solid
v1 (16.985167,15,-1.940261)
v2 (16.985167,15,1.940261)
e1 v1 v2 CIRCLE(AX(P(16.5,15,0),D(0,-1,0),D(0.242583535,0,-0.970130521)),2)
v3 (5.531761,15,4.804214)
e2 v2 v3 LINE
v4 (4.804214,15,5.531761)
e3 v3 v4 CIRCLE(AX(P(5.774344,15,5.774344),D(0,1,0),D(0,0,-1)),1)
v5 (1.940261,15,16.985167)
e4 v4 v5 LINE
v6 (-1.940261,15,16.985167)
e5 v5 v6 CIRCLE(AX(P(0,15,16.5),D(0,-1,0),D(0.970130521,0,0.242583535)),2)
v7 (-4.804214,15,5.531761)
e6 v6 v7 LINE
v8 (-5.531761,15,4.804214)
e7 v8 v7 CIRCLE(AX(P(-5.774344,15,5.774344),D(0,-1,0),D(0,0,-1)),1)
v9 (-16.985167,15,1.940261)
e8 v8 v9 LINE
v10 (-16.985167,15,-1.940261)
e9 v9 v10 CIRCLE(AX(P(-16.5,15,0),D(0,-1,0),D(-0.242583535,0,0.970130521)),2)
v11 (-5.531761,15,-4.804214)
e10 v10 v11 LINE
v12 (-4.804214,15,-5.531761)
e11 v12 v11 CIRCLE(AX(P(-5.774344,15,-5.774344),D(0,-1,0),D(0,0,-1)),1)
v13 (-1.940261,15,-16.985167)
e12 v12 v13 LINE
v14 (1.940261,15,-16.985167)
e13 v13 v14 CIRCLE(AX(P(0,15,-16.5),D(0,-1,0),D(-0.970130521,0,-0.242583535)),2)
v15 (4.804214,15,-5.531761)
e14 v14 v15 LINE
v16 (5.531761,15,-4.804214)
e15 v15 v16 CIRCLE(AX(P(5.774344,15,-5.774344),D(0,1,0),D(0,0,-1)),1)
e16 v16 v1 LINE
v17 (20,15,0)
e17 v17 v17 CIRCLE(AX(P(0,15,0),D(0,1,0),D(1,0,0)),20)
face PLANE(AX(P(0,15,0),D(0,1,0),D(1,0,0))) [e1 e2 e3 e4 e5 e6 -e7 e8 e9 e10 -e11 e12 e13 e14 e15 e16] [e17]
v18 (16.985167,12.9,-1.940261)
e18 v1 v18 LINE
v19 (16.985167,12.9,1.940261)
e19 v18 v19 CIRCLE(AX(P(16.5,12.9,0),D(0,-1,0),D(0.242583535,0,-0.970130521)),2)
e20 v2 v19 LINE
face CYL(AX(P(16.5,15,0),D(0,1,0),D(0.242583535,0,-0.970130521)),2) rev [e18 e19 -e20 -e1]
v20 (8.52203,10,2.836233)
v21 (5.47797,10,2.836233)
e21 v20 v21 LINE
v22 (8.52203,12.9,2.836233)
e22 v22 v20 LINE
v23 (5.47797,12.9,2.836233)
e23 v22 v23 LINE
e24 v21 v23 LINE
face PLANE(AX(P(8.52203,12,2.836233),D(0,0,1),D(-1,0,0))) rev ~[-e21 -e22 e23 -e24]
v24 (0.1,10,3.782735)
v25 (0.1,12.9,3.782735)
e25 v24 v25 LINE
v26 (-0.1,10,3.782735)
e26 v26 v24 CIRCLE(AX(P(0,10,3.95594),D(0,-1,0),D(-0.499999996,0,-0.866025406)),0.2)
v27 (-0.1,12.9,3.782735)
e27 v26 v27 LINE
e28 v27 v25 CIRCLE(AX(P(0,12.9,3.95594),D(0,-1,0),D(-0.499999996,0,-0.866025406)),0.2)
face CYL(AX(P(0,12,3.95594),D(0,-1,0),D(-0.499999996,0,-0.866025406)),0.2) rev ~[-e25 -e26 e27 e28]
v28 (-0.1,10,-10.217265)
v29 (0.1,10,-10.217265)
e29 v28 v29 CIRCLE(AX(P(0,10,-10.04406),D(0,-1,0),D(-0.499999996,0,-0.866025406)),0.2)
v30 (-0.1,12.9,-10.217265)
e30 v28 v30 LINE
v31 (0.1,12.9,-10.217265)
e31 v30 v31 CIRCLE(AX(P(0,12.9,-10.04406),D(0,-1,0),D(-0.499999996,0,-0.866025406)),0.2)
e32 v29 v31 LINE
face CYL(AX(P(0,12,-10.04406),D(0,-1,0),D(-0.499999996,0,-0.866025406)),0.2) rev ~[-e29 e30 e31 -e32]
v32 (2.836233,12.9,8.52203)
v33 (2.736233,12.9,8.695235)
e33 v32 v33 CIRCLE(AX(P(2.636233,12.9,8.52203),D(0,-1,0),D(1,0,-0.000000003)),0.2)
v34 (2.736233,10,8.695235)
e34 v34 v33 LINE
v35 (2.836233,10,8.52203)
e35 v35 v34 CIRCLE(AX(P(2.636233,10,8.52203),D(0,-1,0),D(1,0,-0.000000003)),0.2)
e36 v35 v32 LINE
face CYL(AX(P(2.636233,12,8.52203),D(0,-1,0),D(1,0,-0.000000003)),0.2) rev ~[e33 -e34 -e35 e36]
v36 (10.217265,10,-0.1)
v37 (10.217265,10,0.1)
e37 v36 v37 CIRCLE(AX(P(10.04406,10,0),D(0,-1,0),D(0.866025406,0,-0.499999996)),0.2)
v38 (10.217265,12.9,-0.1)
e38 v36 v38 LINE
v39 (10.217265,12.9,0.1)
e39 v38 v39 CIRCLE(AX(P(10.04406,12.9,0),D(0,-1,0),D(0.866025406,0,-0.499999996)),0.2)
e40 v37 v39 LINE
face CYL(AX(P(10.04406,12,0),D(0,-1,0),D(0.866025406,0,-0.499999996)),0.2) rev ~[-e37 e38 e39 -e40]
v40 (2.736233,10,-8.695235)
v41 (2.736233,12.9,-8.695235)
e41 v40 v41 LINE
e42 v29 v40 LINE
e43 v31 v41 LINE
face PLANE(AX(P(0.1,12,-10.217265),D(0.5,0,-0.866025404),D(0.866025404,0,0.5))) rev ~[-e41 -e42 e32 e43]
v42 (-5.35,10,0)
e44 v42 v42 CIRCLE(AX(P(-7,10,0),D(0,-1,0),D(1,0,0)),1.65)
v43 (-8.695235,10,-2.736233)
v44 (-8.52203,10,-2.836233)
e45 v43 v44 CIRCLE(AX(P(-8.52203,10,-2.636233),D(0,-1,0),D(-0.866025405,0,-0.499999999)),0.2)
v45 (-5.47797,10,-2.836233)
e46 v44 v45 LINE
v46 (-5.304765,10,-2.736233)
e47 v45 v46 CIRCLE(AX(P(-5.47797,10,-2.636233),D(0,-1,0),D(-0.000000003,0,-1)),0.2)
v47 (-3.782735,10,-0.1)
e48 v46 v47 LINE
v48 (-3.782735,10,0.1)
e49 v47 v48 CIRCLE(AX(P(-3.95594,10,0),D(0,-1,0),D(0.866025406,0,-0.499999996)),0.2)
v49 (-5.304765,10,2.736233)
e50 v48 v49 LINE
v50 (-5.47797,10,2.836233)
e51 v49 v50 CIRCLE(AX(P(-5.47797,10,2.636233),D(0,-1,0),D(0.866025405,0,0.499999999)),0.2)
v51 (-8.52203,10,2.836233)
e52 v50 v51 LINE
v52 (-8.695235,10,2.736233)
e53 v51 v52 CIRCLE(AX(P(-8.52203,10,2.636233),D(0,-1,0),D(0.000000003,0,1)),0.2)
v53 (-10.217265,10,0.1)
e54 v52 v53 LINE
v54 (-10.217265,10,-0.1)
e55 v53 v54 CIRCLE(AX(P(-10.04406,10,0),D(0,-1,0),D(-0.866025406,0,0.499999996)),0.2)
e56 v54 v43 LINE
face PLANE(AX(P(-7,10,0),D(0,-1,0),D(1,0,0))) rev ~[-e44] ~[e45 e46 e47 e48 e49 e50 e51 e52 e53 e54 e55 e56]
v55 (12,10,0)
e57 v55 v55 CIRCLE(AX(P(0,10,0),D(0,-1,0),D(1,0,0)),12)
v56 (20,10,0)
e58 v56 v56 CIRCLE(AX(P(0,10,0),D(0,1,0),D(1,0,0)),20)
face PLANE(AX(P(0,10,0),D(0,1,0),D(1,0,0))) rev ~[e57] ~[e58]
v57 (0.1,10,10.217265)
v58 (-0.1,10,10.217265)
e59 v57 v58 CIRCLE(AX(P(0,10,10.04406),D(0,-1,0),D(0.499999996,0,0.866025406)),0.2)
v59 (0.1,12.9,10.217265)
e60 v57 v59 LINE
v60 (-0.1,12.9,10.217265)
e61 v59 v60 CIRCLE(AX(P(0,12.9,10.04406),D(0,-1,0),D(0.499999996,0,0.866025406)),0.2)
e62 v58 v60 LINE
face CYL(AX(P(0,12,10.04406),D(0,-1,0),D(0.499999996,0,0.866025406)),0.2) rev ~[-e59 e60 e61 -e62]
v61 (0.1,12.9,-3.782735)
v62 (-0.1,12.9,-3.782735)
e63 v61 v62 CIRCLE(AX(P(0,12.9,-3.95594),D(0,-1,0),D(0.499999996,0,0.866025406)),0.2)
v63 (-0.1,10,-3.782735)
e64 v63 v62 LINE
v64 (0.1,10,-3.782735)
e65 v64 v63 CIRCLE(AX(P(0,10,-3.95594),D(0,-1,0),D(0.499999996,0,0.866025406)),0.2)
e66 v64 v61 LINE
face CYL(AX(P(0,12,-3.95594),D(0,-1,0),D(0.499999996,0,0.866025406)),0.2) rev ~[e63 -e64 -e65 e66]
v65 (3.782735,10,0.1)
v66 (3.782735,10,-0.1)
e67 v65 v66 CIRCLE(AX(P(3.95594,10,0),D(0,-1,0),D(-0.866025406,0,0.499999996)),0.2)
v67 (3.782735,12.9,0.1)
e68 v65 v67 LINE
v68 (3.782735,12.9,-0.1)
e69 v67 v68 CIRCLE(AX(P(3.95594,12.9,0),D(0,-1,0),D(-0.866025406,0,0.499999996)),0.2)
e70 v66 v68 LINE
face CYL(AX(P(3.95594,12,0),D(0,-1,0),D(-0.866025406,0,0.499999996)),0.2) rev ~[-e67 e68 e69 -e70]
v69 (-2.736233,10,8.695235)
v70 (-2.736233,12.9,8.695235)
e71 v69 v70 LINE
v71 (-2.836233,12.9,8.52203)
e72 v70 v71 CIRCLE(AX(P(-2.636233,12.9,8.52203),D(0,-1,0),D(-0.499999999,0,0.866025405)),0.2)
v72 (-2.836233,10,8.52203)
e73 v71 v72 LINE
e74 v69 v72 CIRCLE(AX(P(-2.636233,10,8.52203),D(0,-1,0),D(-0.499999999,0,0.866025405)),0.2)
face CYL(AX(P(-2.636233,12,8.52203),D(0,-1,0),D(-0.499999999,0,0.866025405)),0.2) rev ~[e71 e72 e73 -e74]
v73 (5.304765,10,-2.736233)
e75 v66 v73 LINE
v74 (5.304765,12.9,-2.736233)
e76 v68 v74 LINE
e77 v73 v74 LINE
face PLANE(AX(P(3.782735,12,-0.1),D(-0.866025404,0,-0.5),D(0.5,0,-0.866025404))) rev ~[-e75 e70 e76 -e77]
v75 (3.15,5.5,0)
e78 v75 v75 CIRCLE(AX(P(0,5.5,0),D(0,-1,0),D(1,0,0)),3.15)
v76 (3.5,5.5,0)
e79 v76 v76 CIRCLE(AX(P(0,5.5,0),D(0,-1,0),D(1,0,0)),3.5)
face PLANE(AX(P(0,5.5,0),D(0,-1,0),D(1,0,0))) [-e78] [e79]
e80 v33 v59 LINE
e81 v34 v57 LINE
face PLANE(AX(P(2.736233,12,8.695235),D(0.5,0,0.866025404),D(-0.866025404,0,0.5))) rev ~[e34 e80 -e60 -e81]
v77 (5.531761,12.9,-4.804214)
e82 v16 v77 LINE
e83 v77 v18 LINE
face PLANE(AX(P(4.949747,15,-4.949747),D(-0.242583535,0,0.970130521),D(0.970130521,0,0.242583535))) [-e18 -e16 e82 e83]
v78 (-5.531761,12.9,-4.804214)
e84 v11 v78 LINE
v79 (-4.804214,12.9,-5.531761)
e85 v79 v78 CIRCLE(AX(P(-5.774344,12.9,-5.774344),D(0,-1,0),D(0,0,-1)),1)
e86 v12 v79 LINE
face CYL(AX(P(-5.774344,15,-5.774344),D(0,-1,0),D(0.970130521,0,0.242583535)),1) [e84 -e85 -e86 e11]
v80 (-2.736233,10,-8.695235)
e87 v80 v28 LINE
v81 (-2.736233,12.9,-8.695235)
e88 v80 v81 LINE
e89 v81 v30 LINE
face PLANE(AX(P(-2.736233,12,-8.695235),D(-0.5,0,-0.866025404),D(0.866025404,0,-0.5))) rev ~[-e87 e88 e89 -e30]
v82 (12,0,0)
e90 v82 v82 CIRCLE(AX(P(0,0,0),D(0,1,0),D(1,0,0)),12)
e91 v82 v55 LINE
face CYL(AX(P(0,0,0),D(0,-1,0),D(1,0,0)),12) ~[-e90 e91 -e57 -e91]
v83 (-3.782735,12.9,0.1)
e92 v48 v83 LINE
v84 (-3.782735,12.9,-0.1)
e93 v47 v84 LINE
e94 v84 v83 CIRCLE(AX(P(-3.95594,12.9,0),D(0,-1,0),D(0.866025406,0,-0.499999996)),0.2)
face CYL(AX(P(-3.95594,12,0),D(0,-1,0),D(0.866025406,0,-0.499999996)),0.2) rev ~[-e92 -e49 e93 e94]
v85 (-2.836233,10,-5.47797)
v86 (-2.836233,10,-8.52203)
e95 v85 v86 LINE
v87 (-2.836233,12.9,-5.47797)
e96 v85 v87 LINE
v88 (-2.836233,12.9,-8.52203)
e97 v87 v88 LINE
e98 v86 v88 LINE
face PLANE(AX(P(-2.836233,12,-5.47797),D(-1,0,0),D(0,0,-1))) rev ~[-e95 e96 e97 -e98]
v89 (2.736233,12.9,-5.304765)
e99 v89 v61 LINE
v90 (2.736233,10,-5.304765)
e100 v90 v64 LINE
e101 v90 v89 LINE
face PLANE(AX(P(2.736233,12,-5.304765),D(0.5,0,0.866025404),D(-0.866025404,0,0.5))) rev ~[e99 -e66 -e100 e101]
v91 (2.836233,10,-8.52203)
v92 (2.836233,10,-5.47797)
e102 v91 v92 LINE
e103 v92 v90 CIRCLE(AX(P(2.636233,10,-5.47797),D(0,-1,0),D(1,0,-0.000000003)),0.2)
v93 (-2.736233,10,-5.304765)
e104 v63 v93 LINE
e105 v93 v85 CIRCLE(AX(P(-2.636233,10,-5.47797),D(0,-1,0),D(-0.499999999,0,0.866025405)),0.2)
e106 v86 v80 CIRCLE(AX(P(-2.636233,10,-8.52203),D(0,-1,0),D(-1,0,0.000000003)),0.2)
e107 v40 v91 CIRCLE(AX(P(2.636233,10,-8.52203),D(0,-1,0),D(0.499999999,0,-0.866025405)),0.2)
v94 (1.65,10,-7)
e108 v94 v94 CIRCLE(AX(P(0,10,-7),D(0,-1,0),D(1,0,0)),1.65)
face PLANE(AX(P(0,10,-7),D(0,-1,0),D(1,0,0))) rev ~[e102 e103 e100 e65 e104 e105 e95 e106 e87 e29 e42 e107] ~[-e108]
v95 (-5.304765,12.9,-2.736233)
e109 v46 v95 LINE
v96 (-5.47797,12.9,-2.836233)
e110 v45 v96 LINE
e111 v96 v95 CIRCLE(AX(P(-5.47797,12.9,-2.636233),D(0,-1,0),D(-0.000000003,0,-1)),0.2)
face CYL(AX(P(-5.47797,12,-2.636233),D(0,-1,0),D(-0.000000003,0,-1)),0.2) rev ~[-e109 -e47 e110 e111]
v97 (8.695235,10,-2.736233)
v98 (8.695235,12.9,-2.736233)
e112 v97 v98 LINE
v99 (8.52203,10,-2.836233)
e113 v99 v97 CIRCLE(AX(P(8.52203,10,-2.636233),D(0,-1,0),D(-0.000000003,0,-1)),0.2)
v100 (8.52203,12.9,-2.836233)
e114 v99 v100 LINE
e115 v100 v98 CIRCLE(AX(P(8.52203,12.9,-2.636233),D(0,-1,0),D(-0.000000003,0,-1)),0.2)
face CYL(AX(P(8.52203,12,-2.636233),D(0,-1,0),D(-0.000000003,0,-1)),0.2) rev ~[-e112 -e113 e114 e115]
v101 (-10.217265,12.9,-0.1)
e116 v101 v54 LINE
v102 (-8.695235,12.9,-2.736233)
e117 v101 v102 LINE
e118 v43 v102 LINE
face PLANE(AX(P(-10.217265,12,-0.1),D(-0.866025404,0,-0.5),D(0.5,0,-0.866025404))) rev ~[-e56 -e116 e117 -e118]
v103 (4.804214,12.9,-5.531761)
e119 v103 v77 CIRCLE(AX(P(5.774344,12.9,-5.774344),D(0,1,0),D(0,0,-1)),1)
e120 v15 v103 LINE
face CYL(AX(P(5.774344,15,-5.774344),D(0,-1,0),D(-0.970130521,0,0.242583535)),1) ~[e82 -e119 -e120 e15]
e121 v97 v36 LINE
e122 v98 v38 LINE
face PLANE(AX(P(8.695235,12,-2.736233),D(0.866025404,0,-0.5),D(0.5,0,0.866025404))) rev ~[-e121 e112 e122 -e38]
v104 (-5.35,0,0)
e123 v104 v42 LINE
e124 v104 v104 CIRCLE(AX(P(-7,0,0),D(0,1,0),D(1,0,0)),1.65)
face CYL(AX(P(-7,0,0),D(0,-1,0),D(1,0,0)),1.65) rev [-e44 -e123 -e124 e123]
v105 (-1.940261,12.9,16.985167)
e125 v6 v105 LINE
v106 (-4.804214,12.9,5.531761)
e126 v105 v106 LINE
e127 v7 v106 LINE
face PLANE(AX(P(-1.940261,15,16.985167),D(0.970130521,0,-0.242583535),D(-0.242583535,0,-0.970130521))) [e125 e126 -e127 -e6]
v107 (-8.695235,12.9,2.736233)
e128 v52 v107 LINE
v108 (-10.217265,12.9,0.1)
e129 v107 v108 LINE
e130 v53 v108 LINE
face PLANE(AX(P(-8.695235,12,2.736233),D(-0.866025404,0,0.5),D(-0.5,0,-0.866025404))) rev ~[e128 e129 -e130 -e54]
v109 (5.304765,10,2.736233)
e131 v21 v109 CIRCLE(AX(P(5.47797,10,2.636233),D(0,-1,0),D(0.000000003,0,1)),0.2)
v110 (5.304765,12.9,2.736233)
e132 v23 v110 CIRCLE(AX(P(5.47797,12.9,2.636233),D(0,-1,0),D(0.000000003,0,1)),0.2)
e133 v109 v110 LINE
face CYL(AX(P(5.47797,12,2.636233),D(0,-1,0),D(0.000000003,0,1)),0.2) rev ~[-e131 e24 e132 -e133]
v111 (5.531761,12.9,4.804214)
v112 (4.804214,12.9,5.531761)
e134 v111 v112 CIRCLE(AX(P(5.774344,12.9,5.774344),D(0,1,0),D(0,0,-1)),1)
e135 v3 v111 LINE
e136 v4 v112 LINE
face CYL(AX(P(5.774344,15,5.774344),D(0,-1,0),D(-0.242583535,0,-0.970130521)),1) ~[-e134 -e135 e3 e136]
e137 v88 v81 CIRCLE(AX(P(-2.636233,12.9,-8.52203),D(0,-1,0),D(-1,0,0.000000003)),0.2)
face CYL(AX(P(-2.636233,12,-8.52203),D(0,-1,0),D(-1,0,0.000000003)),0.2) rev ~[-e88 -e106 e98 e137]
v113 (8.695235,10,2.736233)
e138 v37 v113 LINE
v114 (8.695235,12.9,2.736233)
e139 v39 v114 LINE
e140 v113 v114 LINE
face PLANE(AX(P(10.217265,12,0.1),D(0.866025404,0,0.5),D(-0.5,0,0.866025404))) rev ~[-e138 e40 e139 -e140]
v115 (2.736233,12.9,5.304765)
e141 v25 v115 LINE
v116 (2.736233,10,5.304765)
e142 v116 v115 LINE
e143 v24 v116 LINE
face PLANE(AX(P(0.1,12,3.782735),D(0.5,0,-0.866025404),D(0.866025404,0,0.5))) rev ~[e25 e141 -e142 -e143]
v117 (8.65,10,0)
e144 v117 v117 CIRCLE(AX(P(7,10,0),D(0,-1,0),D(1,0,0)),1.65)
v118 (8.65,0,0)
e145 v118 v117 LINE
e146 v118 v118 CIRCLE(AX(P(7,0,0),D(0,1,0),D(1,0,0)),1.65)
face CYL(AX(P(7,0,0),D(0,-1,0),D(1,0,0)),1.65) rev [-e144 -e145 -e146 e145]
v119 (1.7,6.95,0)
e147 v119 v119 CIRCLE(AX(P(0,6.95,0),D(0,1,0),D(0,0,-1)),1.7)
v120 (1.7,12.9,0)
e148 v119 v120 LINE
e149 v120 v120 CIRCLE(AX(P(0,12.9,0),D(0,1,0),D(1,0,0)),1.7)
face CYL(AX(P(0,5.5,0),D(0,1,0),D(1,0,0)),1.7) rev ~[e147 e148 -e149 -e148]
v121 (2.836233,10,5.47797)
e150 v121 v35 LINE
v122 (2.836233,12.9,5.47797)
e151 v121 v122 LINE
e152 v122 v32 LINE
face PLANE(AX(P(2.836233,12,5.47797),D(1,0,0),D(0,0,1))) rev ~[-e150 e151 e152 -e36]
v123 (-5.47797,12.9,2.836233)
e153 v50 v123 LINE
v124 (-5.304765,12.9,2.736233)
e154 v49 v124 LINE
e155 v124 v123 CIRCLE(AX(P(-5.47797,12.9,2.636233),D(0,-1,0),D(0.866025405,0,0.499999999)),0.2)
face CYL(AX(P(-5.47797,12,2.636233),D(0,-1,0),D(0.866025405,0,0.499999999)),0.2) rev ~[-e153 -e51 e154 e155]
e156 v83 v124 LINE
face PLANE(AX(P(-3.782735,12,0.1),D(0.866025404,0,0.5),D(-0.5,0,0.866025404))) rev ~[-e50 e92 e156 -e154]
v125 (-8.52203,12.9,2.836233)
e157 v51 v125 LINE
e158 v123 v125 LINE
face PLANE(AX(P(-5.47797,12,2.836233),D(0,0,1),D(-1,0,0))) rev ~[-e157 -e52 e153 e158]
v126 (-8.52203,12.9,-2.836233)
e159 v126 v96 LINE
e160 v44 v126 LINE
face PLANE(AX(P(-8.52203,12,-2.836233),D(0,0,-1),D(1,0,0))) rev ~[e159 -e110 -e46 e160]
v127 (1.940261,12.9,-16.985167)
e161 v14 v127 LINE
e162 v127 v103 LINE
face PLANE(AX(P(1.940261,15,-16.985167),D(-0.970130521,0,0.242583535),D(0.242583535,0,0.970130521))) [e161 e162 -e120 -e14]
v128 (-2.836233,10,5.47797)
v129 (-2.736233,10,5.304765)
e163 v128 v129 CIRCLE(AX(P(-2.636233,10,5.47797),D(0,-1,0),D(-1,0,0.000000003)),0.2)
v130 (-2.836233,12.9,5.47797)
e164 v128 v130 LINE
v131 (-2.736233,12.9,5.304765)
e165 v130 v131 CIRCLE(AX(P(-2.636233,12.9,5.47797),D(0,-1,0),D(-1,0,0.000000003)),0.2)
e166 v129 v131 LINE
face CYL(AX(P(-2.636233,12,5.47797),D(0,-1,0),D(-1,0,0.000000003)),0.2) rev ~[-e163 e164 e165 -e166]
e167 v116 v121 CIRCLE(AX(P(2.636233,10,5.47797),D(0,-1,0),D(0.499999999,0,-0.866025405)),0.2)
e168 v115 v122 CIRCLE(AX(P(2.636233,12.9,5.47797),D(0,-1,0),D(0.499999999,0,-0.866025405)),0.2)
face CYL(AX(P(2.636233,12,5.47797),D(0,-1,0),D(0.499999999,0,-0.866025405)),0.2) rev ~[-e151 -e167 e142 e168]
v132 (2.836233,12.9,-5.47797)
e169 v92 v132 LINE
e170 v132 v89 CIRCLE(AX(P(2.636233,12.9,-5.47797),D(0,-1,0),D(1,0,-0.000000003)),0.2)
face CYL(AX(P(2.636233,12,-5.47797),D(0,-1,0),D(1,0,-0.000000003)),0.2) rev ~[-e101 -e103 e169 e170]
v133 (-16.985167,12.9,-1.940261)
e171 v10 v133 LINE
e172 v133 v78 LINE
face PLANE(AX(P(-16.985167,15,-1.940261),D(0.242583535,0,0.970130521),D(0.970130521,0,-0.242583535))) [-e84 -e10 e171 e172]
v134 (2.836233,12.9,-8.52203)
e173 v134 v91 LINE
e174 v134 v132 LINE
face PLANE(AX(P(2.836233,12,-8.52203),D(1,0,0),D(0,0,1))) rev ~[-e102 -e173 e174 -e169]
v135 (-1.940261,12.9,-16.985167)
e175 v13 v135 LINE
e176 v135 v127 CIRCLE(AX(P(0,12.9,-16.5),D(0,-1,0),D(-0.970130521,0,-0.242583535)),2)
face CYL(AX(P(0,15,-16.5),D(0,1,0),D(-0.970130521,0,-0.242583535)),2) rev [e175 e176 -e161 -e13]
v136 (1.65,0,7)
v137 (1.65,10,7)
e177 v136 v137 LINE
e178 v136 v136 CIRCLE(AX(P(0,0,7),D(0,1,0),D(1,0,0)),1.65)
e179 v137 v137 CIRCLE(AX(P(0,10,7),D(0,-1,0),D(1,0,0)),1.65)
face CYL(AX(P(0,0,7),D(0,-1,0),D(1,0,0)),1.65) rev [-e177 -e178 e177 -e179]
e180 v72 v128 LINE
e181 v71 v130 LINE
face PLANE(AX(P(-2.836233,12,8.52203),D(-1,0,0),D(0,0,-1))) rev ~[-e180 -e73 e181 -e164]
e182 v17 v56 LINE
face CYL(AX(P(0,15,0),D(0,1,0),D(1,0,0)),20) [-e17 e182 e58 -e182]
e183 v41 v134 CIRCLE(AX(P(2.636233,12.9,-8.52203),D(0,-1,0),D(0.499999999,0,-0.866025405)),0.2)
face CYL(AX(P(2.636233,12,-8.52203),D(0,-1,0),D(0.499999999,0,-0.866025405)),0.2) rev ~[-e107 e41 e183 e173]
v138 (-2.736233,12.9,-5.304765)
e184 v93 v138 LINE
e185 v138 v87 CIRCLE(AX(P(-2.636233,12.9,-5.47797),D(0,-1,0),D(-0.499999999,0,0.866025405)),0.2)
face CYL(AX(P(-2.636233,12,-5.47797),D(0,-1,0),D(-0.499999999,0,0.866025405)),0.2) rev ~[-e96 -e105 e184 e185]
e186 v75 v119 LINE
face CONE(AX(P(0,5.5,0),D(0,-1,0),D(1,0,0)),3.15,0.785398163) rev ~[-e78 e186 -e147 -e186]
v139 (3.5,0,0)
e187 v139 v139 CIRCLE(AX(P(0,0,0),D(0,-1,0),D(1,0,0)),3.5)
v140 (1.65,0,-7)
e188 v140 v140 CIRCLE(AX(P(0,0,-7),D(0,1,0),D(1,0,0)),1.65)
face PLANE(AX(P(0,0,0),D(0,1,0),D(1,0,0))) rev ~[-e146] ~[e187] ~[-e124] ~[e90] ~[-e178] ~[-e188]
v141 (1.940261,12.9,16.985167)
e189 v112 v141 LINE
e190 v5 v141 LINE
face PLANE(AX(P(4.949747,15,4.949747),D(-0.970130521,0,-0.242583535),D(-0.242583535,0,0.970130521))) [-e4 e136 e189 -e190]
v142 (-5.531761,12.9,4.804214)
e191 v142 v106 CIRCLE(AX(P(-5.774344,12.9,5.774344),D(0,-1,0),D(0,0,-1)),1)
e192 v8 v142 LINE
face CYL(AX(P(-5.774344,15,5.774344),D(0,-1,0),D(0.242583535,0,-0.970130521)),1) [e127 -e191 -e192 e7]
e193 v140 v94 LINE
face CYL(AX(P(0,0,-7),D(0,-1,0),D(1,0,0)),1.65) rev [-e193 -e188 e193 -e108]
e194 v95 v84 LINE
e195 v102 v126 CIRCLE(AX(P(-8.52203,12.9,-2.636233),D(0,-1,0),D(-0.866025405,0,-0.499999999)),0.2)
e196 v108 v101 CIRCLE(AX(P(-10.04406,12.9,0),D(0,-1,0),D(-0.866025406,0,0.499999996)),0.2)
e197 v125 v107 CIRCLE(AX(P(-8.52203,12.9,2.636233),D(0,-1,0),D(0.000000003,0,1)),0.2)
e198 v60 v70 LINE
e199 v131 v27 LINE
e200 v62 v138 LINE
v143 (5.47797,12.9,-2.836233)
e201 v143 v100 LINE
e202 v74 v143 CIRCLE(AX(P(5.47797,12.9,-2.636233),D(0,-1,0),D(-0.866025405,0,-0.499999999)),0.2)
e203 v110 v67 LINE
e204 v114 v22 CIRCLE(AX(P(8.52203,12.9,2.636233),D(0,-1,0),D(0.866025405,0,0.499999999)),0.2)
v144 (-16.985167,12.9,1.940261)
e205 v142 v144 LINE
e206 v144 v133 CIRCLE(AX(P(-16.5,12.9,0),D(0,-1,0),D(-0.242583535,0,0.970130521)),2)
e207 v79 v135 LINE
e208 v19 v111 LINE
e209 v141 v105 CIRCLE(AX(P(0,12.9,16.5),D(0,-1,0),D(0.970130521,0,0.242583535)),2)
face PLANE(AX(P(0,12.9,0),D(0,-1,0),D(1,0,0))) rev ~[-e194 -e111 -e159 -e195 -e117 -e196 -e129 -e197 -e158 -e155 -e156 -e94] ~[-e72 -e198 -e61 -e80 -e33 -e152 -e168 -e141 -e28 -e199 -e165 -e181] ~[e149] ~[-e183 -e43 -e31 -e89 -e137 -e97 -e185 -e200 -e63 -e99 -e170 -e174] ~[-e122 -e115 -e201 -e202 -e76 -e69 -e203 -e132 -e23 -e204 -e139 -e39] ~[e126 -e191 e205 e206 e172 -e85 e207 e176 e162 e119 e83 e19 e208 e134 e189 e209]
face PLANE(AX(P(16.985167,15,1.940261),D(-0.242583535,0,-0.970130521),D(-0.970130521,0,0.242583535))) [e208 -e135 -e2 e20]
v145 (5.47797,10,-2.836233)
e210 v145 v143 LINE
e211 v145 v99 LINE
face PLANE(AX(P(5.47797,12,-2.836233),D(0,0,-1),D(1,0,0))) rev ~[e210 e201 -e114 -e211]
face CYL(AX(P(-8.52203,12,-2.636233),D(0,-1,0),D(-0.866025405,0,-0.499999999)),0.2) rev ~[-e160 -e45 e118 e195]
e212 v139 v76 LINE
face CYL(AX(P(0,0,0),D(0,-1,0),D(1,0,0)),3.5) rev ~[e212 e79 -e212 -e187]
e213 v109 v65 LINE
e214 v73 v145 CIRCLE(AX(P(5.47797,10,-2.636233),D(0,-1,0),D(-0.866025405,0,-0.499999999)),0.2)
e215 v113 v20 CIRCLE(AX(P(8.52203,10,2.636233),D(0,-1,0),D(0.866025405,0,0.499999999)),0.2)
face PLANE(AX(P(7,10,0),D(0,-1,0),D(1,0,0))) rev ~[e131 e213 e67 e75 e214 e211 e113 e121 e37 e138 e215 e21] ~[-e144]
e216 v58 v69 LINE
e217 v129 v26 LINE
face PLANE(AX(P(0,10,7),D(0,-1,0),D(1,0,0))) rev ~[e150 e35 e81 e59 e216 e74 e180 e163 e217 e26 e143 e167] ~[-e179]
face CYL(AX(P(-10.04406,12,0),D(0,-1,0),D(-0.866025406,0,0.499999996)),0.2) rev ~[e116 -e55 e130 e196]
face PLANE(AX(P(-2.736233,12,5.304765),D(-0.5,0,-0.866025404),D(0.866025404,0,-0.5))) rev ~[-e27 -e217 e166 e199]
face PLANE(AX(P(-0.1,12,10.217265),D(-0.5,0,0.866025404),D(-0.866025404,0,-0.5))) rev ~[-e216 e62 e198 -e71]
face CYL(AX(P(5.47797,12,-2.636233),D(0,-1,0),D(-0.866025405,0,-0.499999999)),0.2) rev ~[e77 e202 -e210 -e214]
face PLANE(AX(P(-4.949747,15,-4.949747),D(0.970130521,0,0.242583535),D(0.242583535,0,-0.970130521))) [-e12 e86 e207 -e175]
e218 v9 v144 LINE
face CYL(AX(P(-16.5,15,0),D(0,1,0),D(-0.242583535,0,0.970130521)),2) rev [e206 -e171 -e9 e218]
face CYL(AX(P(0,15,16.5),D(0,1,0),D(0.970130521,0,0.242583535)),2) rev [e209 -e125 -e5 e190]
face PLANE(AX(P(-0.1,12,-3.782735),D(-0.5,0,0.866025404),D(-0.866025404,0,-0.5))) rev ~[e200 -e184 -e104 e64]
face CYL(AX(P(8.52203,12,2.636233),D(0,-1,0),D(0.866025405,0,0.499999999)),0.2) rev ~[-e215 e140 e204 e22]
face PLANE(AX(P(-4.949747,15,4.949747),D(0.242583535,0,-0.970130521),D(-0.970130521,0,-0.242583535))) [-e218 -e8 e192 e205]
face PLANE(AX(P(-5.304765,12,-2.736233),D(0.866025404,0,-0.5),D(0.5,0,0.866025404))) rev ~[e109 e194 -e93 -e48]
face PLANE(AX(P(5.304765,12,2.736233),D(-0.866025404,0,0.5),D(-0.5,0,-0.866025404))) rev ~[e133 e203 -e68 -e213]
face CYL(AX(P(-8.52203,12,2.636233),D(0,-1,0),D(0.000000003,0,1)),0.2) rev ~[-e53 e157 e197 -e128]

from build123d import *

# Parameters (mm, degrees)
SKETCH1_R                                       = 12
SKETCH1_R_2                                     = 1.65
BOSS_EXTRUDE1_DEPTH                             = 15
SKETCH2_R                                       = 20
SKETCH2_R_2                                     = 11.285963192
BOSS_EXTRUDE2_DEPTH                             = 5
SKETCH3_R                                       = 20
BOSS_EXTRUDE3_DEPTH                             = 3
CUT_EXTRUDE2_DEPTH                              = 2.1
SKETCH6_R                                       = 1.65
CUT_EXTRUDE3_DEPTH                              = 24.1
FILLET1_R                                       = 1
SKETCH7_R                                       = 3.5
CUT_EXTRUDE4_DEPTH                              = 5.5
CSK_FOR_M3_FLAT_HEAD_MACHINE_SCREW1_D           = 3.4
CSK_FOR_M3_FLAT_HEAD_MACHINE_SCREW1_CSINK_D     = 6.3
CSK_FOR_M3_FLAT_HEAD_MACHINE_SCREW1_CSINK_ANGLE = 90
CUT_EXTRUDE6_DEPTH                              = 2
CUT_EXTRUDE6_DEPTH_BACK                         = 10


with BuildPart() as part:
    # Sketch1 → Boss-Extrude1 (new body)
    with BuildSketch(Plane(origin=(0, 0, 0), x_dir=(1, 0, 0), z_dir=(0, 1, 0))):
        Circle(SKETCH1_R)
        with Locations((0, 7)):
            Circle(SKETCH1_R_2, mode=Mode.SUBTRACT)
        with Locations((7, 0)):
            Circle(SKETCH1_R_2, mode=Mode.SUBTRACT)
        Circle(SKETCH1_R_2, mode=Mode.SUBTRACT)
        with Locations((0, -7)):
            Circle(SKETCH1_R_2, mode=Mode.SUBTRACT)
        with Locations((-7, 0)):
            Circle(SKETCH1_R_2, mode=Mode.SUBTRACT)
    extrude(amount=BOSS_EXTRUDE1_DEPTH)

    # Sketch2 → Boss-Extrude2 (add)
    with BuildSketch(Plane(origin=(0, 15, 0), x_dir=(1, 0, 0), z_dir=(0, 1, 0))):
        Circle(SKETCH2_R)
        Circle(SKETCH2_R_2, mode=Mode.SUBTRACT)
    extrude(amount=-BOSS_EXTRUDE2_DEPTH)

    # Sketch3 → Boss-Extrude3 (add)
    with BuildSketch(Plane(origin=(0, 15, 0), x_dir=(1, 0, 0), z_dir=(0, 1, 0))):
        Circle(SKETCH3_R)
    extrude(amount=-BOSS_EXTRUDE3_DEPTH)

    # Sketch4 → Cut-Extrude2 (cut)
    with BuildSketch(Plane.XZ.offset(-15)):
        with BuildLine():
            Line((4.949747468, 4.949747468), (1.940261042, 16.98516707))
            ThreePointArc((1.940261042, 16.98516707), (0, 18.5), (-1.940261043, 16.98516707))
            Line((-1.940261043, 16.98516707), (-4.949747468, 4.949747468))
            Line((-4.949747468, 4.949747468), (-16.98516707, 1.940261042))
            ThreePointArc((-16.98516707, 1.940261042), (-18.5, 0), (-16.98516707, -1.940261043))
            Line((-16.98516707, -1.940261043), (-4.949747468, -4.949747468))
            Line((-4.949747468, -4.949747468), (-1.940261042, -16.98516707))
            ThreePointArc((-1.940261042, -16.98516707), (0, -18.5), (1.940261043, -16.98516707))
            Line((1.940261043, -16.98516707), (4.949747468, -4.949747468))
            Line((4.949747468, -4.949747468), (16.98516707, -1.940261042))
            ThreePointArc((16.98516707, -1.940261042), (18.5, 0), (16.98516707, 1.940261043))
            Line((16.98516707, 1.940261043), (4.949747468, 4.949747468))
        make_face()
    extrude(amount=CUT_EXTRUDE2_DEPTH, mode=Mode.SUBTRACT)

    # Sketch6 → Cut-Extrude3 (cut)
    with BuildSketch(Plane.XZ):
        Circle(SKETCH6_R)
    extrude(amount=-CUT_EXTRUDE3_DEPTH, mode=Mode.SUBTRACT)

    # Fillet1
    fillet1_edges = [part.edges().sort_by_distance(p)[0] for p in [
        (4.949747468, 13.95, 4.949747468),
        (-4.949747468, 13.95, 4.949747468),
        (-4.949747468, 13.95, -4.949747468),
        (4.949747468, 13.95, -4.949747468),
    ]]
    fillet(fillet1_edges, radius=FILLET1_R)

    # Sketch7 → Cut-Extrude4 (cut)
    with BuildSketch(Plane.XZ):
        Circle(SKETCH7_R)
    extrude(amount=-CUT_EXTRUDE4_DEPTH, mode=Mode.SUBTRACT)

    # CSK for M3 Flat Head Machine Screw1 (through all)
    with Locations(Plane(origin=(0, 5.5, 0), x_dir=(-1, 0, 0), z_dir=(0, -1, 0))):
        with Locations((0, 0)):
            CounterSinkHole(CSK_FOR_M3_FLAT_HEAD_MACHINE_SCREW1_D / 2, CSK_FOR_M3_FLAT_HEAD_MACHINE_SCREW1_CSINK_D / 2, counter_sink_angle=CSK_FOR_M3_FLAT_HEAD_MACHINE_SCREW1_CSINK_ANGLE)

    # Sketch12 → Cut-Extrude6 (cut, two sides)
    with BuildSketch(Plane.XZ.offset(-12)) as cut_extrude6_sk:
        with BuildLine():
            Line((-2.836233197, 8.522029946), (-2.836233197, 5.477970054))
            ThreePointArc((-2.836233197, 5.477970054), (-2.809438278, 5.377970054), (-2.736233197, 5.304764973))
            Line((-2.736233197, 5.304764973), (-0.1, 3.782735027))
            ThreePointArc((-0.1, 3.782735027), (0, 3.755940108), (0.1, 3.782735027))
            Line((0.1, 3.782735027), (2.736233197, 5.304764973))
            ThreePointArc((2.736233197, 5.304764973), (2.809438278, 5.377970054), (2.836233197, 5.477970054))
            Line((2.836233197, 5.477970054), (2.836233197, 8.522029946))
            ThreePointArc((2.836233197, 8.522029946), (2.809438278, 8.622029946), (2.736233197, 8.695235027))
            Line((2.736233197, 8.695235027), (0.1, 10.217264973))
            ThreePointArc((0.1, 10.217264973), (0, 10.244059892), (-0.1, 10.217264973))
            Line((-0.1, 10.217264973), (-2.736233197, 8.695235027))
            ThreePointArc((-2.736233197, 8.695235027), (-2.809438278, 8.622029946), (-2.836233197, 8.522029946))
        make_face()
        with BuildLine():
            Line((-10.217264973, -0.1), (-8.695235027, -2.736233197))
            ThreePointArc((-8.695235027, -2.736233197), (-8.622029946, -2.809438278), (-8.522029946, -2.836233197))
            Line((-8.522029946, -2.836233197), (-5.477970054, -2.836233197))
            ThreePointArc((-5.477970054, -2.836233197), (-5.377970054, -2.809438278), (-5.304764973, -2.736233197))
            Line((-5.304764973, -2.736233197), (-3.782735027, -0.1))
            ThreePointArc((-3.782735027, -0.1), (-3.755940108, 0), (-3.782735027, 0.1))
            Line((-3.782735027, 0.1), (-5.304764973, 2.736233197))
            ThreePointArc((-5.304764973, 2.736233197), (-5.377970054, 2.809438278), (-5.477970054, 2.836233197))
            Line((-5.477970054, 2.836233197), (-8.522029946, 2.836233197))
            ThreePointArc((-8.522029946, 2.836233197), (-8.622029946, 2.809438278), (-8.695235027, 2.736233197))
            Line((-8.695235027, 2.736233197), (-10.217264973, 0.1))
            ThreePointArc((-10.217264973, 0.1), (-10.244059892, 0), (-10.217264973, -0.1))
        make_face()
        with BuildLine():
            Line((8.522029946, 2.836233197), (5.477970054, 2.836233197))
            ThreePointArc((5.477970054, 2.836233197), (5.377970054, 2.809438278), (5.304764973, 2.736233197))
            Line((5.304764973, 2.736233197), (3.782735027, 0.1))
            ThreePointArc((3.782735027, 0.1), (3.755940108, 0), (3.782735027, -0.1))
            Line((3.782735027, -0.1), (5.304764973, -2.736233197))
            ThreePointArc((5.304764973, -2.736233197), (5.377970054, -2.809438278), (5.477970054, -2.836233197))
            Line((5.477970054, -2.836233197), (8.522029946, -2.836233197))
            ThreePointArc((8.522029946, -2.836233197), (8.622029946, -2.809438278), (8.695235027, -2.736233197))
            Line((8.695235027, -2.736233197), (10.217264973, -0.1))
            ThreePointArc((10.217264973, -0.1), (10.244059892, 0), (10.217264973, 0.1))
            Line((10.217264973, 0.1), (8.695235027, 2.736233197))
            ThreePointArc((8.695235027, 2.736233197), (8.622029946, 2.809438278), (8.522029946, 2.836233197))
        make_face()
        with BuildLine():
            Line((2.836233197, -8.522029946), (2.836233197, -5.477970054))
            ThreePointArc((2.836233197, -5.477970054), (2.809438278, -5.377970054), (2.736233197, -5.304764973))
            Line((2.736233197, -5.304764973), (0.1, -3.782735027))
            ThreePointArc((0.1, -3.782735027), (0, -3.755940108), (-0.1, -3.782735027))
            Line((-0.1, -3.782735027), (-2.736233197, -5.304764973))
            ThreePointArc((-2.736233197, -5.304764973), (-2.809438278, -5.377970054), (-2.836233197, -5.477970054))
            Line((-2.836233197, -5.477970054), (-2.836233197, -8.522029946))
            ThreePointArc((-2.836233197, -8.522029946), (-2.809438278, -8.622029946), (-2.736233197, -8.695235027))
            Line((-2.736233197, -8.695235027), (-0.1, -10.217264973))
            ThreePointArc((-0.1, -10.217264973), (0, -10.244059892), (0.1, -10.217264973))
            Line((0.1, -10.217264973), (2.736233197, -8.695235027))
            ThreePointArc((2.736233197, -8.695235027), (2.809438278, -8.622029946), (2.836233197, -8.522029946))
        make_face()
    extrude(amount=CUT_EXTRUDE6_DEPTH, mode=Mode.SUBTRACT)
    extrude(cut_extrude6_sk.sketch, amount=-CUT_EXTRUDE6_DEPTH_BACK, mode=Mode.SUBTRACT)


solid = part.part
